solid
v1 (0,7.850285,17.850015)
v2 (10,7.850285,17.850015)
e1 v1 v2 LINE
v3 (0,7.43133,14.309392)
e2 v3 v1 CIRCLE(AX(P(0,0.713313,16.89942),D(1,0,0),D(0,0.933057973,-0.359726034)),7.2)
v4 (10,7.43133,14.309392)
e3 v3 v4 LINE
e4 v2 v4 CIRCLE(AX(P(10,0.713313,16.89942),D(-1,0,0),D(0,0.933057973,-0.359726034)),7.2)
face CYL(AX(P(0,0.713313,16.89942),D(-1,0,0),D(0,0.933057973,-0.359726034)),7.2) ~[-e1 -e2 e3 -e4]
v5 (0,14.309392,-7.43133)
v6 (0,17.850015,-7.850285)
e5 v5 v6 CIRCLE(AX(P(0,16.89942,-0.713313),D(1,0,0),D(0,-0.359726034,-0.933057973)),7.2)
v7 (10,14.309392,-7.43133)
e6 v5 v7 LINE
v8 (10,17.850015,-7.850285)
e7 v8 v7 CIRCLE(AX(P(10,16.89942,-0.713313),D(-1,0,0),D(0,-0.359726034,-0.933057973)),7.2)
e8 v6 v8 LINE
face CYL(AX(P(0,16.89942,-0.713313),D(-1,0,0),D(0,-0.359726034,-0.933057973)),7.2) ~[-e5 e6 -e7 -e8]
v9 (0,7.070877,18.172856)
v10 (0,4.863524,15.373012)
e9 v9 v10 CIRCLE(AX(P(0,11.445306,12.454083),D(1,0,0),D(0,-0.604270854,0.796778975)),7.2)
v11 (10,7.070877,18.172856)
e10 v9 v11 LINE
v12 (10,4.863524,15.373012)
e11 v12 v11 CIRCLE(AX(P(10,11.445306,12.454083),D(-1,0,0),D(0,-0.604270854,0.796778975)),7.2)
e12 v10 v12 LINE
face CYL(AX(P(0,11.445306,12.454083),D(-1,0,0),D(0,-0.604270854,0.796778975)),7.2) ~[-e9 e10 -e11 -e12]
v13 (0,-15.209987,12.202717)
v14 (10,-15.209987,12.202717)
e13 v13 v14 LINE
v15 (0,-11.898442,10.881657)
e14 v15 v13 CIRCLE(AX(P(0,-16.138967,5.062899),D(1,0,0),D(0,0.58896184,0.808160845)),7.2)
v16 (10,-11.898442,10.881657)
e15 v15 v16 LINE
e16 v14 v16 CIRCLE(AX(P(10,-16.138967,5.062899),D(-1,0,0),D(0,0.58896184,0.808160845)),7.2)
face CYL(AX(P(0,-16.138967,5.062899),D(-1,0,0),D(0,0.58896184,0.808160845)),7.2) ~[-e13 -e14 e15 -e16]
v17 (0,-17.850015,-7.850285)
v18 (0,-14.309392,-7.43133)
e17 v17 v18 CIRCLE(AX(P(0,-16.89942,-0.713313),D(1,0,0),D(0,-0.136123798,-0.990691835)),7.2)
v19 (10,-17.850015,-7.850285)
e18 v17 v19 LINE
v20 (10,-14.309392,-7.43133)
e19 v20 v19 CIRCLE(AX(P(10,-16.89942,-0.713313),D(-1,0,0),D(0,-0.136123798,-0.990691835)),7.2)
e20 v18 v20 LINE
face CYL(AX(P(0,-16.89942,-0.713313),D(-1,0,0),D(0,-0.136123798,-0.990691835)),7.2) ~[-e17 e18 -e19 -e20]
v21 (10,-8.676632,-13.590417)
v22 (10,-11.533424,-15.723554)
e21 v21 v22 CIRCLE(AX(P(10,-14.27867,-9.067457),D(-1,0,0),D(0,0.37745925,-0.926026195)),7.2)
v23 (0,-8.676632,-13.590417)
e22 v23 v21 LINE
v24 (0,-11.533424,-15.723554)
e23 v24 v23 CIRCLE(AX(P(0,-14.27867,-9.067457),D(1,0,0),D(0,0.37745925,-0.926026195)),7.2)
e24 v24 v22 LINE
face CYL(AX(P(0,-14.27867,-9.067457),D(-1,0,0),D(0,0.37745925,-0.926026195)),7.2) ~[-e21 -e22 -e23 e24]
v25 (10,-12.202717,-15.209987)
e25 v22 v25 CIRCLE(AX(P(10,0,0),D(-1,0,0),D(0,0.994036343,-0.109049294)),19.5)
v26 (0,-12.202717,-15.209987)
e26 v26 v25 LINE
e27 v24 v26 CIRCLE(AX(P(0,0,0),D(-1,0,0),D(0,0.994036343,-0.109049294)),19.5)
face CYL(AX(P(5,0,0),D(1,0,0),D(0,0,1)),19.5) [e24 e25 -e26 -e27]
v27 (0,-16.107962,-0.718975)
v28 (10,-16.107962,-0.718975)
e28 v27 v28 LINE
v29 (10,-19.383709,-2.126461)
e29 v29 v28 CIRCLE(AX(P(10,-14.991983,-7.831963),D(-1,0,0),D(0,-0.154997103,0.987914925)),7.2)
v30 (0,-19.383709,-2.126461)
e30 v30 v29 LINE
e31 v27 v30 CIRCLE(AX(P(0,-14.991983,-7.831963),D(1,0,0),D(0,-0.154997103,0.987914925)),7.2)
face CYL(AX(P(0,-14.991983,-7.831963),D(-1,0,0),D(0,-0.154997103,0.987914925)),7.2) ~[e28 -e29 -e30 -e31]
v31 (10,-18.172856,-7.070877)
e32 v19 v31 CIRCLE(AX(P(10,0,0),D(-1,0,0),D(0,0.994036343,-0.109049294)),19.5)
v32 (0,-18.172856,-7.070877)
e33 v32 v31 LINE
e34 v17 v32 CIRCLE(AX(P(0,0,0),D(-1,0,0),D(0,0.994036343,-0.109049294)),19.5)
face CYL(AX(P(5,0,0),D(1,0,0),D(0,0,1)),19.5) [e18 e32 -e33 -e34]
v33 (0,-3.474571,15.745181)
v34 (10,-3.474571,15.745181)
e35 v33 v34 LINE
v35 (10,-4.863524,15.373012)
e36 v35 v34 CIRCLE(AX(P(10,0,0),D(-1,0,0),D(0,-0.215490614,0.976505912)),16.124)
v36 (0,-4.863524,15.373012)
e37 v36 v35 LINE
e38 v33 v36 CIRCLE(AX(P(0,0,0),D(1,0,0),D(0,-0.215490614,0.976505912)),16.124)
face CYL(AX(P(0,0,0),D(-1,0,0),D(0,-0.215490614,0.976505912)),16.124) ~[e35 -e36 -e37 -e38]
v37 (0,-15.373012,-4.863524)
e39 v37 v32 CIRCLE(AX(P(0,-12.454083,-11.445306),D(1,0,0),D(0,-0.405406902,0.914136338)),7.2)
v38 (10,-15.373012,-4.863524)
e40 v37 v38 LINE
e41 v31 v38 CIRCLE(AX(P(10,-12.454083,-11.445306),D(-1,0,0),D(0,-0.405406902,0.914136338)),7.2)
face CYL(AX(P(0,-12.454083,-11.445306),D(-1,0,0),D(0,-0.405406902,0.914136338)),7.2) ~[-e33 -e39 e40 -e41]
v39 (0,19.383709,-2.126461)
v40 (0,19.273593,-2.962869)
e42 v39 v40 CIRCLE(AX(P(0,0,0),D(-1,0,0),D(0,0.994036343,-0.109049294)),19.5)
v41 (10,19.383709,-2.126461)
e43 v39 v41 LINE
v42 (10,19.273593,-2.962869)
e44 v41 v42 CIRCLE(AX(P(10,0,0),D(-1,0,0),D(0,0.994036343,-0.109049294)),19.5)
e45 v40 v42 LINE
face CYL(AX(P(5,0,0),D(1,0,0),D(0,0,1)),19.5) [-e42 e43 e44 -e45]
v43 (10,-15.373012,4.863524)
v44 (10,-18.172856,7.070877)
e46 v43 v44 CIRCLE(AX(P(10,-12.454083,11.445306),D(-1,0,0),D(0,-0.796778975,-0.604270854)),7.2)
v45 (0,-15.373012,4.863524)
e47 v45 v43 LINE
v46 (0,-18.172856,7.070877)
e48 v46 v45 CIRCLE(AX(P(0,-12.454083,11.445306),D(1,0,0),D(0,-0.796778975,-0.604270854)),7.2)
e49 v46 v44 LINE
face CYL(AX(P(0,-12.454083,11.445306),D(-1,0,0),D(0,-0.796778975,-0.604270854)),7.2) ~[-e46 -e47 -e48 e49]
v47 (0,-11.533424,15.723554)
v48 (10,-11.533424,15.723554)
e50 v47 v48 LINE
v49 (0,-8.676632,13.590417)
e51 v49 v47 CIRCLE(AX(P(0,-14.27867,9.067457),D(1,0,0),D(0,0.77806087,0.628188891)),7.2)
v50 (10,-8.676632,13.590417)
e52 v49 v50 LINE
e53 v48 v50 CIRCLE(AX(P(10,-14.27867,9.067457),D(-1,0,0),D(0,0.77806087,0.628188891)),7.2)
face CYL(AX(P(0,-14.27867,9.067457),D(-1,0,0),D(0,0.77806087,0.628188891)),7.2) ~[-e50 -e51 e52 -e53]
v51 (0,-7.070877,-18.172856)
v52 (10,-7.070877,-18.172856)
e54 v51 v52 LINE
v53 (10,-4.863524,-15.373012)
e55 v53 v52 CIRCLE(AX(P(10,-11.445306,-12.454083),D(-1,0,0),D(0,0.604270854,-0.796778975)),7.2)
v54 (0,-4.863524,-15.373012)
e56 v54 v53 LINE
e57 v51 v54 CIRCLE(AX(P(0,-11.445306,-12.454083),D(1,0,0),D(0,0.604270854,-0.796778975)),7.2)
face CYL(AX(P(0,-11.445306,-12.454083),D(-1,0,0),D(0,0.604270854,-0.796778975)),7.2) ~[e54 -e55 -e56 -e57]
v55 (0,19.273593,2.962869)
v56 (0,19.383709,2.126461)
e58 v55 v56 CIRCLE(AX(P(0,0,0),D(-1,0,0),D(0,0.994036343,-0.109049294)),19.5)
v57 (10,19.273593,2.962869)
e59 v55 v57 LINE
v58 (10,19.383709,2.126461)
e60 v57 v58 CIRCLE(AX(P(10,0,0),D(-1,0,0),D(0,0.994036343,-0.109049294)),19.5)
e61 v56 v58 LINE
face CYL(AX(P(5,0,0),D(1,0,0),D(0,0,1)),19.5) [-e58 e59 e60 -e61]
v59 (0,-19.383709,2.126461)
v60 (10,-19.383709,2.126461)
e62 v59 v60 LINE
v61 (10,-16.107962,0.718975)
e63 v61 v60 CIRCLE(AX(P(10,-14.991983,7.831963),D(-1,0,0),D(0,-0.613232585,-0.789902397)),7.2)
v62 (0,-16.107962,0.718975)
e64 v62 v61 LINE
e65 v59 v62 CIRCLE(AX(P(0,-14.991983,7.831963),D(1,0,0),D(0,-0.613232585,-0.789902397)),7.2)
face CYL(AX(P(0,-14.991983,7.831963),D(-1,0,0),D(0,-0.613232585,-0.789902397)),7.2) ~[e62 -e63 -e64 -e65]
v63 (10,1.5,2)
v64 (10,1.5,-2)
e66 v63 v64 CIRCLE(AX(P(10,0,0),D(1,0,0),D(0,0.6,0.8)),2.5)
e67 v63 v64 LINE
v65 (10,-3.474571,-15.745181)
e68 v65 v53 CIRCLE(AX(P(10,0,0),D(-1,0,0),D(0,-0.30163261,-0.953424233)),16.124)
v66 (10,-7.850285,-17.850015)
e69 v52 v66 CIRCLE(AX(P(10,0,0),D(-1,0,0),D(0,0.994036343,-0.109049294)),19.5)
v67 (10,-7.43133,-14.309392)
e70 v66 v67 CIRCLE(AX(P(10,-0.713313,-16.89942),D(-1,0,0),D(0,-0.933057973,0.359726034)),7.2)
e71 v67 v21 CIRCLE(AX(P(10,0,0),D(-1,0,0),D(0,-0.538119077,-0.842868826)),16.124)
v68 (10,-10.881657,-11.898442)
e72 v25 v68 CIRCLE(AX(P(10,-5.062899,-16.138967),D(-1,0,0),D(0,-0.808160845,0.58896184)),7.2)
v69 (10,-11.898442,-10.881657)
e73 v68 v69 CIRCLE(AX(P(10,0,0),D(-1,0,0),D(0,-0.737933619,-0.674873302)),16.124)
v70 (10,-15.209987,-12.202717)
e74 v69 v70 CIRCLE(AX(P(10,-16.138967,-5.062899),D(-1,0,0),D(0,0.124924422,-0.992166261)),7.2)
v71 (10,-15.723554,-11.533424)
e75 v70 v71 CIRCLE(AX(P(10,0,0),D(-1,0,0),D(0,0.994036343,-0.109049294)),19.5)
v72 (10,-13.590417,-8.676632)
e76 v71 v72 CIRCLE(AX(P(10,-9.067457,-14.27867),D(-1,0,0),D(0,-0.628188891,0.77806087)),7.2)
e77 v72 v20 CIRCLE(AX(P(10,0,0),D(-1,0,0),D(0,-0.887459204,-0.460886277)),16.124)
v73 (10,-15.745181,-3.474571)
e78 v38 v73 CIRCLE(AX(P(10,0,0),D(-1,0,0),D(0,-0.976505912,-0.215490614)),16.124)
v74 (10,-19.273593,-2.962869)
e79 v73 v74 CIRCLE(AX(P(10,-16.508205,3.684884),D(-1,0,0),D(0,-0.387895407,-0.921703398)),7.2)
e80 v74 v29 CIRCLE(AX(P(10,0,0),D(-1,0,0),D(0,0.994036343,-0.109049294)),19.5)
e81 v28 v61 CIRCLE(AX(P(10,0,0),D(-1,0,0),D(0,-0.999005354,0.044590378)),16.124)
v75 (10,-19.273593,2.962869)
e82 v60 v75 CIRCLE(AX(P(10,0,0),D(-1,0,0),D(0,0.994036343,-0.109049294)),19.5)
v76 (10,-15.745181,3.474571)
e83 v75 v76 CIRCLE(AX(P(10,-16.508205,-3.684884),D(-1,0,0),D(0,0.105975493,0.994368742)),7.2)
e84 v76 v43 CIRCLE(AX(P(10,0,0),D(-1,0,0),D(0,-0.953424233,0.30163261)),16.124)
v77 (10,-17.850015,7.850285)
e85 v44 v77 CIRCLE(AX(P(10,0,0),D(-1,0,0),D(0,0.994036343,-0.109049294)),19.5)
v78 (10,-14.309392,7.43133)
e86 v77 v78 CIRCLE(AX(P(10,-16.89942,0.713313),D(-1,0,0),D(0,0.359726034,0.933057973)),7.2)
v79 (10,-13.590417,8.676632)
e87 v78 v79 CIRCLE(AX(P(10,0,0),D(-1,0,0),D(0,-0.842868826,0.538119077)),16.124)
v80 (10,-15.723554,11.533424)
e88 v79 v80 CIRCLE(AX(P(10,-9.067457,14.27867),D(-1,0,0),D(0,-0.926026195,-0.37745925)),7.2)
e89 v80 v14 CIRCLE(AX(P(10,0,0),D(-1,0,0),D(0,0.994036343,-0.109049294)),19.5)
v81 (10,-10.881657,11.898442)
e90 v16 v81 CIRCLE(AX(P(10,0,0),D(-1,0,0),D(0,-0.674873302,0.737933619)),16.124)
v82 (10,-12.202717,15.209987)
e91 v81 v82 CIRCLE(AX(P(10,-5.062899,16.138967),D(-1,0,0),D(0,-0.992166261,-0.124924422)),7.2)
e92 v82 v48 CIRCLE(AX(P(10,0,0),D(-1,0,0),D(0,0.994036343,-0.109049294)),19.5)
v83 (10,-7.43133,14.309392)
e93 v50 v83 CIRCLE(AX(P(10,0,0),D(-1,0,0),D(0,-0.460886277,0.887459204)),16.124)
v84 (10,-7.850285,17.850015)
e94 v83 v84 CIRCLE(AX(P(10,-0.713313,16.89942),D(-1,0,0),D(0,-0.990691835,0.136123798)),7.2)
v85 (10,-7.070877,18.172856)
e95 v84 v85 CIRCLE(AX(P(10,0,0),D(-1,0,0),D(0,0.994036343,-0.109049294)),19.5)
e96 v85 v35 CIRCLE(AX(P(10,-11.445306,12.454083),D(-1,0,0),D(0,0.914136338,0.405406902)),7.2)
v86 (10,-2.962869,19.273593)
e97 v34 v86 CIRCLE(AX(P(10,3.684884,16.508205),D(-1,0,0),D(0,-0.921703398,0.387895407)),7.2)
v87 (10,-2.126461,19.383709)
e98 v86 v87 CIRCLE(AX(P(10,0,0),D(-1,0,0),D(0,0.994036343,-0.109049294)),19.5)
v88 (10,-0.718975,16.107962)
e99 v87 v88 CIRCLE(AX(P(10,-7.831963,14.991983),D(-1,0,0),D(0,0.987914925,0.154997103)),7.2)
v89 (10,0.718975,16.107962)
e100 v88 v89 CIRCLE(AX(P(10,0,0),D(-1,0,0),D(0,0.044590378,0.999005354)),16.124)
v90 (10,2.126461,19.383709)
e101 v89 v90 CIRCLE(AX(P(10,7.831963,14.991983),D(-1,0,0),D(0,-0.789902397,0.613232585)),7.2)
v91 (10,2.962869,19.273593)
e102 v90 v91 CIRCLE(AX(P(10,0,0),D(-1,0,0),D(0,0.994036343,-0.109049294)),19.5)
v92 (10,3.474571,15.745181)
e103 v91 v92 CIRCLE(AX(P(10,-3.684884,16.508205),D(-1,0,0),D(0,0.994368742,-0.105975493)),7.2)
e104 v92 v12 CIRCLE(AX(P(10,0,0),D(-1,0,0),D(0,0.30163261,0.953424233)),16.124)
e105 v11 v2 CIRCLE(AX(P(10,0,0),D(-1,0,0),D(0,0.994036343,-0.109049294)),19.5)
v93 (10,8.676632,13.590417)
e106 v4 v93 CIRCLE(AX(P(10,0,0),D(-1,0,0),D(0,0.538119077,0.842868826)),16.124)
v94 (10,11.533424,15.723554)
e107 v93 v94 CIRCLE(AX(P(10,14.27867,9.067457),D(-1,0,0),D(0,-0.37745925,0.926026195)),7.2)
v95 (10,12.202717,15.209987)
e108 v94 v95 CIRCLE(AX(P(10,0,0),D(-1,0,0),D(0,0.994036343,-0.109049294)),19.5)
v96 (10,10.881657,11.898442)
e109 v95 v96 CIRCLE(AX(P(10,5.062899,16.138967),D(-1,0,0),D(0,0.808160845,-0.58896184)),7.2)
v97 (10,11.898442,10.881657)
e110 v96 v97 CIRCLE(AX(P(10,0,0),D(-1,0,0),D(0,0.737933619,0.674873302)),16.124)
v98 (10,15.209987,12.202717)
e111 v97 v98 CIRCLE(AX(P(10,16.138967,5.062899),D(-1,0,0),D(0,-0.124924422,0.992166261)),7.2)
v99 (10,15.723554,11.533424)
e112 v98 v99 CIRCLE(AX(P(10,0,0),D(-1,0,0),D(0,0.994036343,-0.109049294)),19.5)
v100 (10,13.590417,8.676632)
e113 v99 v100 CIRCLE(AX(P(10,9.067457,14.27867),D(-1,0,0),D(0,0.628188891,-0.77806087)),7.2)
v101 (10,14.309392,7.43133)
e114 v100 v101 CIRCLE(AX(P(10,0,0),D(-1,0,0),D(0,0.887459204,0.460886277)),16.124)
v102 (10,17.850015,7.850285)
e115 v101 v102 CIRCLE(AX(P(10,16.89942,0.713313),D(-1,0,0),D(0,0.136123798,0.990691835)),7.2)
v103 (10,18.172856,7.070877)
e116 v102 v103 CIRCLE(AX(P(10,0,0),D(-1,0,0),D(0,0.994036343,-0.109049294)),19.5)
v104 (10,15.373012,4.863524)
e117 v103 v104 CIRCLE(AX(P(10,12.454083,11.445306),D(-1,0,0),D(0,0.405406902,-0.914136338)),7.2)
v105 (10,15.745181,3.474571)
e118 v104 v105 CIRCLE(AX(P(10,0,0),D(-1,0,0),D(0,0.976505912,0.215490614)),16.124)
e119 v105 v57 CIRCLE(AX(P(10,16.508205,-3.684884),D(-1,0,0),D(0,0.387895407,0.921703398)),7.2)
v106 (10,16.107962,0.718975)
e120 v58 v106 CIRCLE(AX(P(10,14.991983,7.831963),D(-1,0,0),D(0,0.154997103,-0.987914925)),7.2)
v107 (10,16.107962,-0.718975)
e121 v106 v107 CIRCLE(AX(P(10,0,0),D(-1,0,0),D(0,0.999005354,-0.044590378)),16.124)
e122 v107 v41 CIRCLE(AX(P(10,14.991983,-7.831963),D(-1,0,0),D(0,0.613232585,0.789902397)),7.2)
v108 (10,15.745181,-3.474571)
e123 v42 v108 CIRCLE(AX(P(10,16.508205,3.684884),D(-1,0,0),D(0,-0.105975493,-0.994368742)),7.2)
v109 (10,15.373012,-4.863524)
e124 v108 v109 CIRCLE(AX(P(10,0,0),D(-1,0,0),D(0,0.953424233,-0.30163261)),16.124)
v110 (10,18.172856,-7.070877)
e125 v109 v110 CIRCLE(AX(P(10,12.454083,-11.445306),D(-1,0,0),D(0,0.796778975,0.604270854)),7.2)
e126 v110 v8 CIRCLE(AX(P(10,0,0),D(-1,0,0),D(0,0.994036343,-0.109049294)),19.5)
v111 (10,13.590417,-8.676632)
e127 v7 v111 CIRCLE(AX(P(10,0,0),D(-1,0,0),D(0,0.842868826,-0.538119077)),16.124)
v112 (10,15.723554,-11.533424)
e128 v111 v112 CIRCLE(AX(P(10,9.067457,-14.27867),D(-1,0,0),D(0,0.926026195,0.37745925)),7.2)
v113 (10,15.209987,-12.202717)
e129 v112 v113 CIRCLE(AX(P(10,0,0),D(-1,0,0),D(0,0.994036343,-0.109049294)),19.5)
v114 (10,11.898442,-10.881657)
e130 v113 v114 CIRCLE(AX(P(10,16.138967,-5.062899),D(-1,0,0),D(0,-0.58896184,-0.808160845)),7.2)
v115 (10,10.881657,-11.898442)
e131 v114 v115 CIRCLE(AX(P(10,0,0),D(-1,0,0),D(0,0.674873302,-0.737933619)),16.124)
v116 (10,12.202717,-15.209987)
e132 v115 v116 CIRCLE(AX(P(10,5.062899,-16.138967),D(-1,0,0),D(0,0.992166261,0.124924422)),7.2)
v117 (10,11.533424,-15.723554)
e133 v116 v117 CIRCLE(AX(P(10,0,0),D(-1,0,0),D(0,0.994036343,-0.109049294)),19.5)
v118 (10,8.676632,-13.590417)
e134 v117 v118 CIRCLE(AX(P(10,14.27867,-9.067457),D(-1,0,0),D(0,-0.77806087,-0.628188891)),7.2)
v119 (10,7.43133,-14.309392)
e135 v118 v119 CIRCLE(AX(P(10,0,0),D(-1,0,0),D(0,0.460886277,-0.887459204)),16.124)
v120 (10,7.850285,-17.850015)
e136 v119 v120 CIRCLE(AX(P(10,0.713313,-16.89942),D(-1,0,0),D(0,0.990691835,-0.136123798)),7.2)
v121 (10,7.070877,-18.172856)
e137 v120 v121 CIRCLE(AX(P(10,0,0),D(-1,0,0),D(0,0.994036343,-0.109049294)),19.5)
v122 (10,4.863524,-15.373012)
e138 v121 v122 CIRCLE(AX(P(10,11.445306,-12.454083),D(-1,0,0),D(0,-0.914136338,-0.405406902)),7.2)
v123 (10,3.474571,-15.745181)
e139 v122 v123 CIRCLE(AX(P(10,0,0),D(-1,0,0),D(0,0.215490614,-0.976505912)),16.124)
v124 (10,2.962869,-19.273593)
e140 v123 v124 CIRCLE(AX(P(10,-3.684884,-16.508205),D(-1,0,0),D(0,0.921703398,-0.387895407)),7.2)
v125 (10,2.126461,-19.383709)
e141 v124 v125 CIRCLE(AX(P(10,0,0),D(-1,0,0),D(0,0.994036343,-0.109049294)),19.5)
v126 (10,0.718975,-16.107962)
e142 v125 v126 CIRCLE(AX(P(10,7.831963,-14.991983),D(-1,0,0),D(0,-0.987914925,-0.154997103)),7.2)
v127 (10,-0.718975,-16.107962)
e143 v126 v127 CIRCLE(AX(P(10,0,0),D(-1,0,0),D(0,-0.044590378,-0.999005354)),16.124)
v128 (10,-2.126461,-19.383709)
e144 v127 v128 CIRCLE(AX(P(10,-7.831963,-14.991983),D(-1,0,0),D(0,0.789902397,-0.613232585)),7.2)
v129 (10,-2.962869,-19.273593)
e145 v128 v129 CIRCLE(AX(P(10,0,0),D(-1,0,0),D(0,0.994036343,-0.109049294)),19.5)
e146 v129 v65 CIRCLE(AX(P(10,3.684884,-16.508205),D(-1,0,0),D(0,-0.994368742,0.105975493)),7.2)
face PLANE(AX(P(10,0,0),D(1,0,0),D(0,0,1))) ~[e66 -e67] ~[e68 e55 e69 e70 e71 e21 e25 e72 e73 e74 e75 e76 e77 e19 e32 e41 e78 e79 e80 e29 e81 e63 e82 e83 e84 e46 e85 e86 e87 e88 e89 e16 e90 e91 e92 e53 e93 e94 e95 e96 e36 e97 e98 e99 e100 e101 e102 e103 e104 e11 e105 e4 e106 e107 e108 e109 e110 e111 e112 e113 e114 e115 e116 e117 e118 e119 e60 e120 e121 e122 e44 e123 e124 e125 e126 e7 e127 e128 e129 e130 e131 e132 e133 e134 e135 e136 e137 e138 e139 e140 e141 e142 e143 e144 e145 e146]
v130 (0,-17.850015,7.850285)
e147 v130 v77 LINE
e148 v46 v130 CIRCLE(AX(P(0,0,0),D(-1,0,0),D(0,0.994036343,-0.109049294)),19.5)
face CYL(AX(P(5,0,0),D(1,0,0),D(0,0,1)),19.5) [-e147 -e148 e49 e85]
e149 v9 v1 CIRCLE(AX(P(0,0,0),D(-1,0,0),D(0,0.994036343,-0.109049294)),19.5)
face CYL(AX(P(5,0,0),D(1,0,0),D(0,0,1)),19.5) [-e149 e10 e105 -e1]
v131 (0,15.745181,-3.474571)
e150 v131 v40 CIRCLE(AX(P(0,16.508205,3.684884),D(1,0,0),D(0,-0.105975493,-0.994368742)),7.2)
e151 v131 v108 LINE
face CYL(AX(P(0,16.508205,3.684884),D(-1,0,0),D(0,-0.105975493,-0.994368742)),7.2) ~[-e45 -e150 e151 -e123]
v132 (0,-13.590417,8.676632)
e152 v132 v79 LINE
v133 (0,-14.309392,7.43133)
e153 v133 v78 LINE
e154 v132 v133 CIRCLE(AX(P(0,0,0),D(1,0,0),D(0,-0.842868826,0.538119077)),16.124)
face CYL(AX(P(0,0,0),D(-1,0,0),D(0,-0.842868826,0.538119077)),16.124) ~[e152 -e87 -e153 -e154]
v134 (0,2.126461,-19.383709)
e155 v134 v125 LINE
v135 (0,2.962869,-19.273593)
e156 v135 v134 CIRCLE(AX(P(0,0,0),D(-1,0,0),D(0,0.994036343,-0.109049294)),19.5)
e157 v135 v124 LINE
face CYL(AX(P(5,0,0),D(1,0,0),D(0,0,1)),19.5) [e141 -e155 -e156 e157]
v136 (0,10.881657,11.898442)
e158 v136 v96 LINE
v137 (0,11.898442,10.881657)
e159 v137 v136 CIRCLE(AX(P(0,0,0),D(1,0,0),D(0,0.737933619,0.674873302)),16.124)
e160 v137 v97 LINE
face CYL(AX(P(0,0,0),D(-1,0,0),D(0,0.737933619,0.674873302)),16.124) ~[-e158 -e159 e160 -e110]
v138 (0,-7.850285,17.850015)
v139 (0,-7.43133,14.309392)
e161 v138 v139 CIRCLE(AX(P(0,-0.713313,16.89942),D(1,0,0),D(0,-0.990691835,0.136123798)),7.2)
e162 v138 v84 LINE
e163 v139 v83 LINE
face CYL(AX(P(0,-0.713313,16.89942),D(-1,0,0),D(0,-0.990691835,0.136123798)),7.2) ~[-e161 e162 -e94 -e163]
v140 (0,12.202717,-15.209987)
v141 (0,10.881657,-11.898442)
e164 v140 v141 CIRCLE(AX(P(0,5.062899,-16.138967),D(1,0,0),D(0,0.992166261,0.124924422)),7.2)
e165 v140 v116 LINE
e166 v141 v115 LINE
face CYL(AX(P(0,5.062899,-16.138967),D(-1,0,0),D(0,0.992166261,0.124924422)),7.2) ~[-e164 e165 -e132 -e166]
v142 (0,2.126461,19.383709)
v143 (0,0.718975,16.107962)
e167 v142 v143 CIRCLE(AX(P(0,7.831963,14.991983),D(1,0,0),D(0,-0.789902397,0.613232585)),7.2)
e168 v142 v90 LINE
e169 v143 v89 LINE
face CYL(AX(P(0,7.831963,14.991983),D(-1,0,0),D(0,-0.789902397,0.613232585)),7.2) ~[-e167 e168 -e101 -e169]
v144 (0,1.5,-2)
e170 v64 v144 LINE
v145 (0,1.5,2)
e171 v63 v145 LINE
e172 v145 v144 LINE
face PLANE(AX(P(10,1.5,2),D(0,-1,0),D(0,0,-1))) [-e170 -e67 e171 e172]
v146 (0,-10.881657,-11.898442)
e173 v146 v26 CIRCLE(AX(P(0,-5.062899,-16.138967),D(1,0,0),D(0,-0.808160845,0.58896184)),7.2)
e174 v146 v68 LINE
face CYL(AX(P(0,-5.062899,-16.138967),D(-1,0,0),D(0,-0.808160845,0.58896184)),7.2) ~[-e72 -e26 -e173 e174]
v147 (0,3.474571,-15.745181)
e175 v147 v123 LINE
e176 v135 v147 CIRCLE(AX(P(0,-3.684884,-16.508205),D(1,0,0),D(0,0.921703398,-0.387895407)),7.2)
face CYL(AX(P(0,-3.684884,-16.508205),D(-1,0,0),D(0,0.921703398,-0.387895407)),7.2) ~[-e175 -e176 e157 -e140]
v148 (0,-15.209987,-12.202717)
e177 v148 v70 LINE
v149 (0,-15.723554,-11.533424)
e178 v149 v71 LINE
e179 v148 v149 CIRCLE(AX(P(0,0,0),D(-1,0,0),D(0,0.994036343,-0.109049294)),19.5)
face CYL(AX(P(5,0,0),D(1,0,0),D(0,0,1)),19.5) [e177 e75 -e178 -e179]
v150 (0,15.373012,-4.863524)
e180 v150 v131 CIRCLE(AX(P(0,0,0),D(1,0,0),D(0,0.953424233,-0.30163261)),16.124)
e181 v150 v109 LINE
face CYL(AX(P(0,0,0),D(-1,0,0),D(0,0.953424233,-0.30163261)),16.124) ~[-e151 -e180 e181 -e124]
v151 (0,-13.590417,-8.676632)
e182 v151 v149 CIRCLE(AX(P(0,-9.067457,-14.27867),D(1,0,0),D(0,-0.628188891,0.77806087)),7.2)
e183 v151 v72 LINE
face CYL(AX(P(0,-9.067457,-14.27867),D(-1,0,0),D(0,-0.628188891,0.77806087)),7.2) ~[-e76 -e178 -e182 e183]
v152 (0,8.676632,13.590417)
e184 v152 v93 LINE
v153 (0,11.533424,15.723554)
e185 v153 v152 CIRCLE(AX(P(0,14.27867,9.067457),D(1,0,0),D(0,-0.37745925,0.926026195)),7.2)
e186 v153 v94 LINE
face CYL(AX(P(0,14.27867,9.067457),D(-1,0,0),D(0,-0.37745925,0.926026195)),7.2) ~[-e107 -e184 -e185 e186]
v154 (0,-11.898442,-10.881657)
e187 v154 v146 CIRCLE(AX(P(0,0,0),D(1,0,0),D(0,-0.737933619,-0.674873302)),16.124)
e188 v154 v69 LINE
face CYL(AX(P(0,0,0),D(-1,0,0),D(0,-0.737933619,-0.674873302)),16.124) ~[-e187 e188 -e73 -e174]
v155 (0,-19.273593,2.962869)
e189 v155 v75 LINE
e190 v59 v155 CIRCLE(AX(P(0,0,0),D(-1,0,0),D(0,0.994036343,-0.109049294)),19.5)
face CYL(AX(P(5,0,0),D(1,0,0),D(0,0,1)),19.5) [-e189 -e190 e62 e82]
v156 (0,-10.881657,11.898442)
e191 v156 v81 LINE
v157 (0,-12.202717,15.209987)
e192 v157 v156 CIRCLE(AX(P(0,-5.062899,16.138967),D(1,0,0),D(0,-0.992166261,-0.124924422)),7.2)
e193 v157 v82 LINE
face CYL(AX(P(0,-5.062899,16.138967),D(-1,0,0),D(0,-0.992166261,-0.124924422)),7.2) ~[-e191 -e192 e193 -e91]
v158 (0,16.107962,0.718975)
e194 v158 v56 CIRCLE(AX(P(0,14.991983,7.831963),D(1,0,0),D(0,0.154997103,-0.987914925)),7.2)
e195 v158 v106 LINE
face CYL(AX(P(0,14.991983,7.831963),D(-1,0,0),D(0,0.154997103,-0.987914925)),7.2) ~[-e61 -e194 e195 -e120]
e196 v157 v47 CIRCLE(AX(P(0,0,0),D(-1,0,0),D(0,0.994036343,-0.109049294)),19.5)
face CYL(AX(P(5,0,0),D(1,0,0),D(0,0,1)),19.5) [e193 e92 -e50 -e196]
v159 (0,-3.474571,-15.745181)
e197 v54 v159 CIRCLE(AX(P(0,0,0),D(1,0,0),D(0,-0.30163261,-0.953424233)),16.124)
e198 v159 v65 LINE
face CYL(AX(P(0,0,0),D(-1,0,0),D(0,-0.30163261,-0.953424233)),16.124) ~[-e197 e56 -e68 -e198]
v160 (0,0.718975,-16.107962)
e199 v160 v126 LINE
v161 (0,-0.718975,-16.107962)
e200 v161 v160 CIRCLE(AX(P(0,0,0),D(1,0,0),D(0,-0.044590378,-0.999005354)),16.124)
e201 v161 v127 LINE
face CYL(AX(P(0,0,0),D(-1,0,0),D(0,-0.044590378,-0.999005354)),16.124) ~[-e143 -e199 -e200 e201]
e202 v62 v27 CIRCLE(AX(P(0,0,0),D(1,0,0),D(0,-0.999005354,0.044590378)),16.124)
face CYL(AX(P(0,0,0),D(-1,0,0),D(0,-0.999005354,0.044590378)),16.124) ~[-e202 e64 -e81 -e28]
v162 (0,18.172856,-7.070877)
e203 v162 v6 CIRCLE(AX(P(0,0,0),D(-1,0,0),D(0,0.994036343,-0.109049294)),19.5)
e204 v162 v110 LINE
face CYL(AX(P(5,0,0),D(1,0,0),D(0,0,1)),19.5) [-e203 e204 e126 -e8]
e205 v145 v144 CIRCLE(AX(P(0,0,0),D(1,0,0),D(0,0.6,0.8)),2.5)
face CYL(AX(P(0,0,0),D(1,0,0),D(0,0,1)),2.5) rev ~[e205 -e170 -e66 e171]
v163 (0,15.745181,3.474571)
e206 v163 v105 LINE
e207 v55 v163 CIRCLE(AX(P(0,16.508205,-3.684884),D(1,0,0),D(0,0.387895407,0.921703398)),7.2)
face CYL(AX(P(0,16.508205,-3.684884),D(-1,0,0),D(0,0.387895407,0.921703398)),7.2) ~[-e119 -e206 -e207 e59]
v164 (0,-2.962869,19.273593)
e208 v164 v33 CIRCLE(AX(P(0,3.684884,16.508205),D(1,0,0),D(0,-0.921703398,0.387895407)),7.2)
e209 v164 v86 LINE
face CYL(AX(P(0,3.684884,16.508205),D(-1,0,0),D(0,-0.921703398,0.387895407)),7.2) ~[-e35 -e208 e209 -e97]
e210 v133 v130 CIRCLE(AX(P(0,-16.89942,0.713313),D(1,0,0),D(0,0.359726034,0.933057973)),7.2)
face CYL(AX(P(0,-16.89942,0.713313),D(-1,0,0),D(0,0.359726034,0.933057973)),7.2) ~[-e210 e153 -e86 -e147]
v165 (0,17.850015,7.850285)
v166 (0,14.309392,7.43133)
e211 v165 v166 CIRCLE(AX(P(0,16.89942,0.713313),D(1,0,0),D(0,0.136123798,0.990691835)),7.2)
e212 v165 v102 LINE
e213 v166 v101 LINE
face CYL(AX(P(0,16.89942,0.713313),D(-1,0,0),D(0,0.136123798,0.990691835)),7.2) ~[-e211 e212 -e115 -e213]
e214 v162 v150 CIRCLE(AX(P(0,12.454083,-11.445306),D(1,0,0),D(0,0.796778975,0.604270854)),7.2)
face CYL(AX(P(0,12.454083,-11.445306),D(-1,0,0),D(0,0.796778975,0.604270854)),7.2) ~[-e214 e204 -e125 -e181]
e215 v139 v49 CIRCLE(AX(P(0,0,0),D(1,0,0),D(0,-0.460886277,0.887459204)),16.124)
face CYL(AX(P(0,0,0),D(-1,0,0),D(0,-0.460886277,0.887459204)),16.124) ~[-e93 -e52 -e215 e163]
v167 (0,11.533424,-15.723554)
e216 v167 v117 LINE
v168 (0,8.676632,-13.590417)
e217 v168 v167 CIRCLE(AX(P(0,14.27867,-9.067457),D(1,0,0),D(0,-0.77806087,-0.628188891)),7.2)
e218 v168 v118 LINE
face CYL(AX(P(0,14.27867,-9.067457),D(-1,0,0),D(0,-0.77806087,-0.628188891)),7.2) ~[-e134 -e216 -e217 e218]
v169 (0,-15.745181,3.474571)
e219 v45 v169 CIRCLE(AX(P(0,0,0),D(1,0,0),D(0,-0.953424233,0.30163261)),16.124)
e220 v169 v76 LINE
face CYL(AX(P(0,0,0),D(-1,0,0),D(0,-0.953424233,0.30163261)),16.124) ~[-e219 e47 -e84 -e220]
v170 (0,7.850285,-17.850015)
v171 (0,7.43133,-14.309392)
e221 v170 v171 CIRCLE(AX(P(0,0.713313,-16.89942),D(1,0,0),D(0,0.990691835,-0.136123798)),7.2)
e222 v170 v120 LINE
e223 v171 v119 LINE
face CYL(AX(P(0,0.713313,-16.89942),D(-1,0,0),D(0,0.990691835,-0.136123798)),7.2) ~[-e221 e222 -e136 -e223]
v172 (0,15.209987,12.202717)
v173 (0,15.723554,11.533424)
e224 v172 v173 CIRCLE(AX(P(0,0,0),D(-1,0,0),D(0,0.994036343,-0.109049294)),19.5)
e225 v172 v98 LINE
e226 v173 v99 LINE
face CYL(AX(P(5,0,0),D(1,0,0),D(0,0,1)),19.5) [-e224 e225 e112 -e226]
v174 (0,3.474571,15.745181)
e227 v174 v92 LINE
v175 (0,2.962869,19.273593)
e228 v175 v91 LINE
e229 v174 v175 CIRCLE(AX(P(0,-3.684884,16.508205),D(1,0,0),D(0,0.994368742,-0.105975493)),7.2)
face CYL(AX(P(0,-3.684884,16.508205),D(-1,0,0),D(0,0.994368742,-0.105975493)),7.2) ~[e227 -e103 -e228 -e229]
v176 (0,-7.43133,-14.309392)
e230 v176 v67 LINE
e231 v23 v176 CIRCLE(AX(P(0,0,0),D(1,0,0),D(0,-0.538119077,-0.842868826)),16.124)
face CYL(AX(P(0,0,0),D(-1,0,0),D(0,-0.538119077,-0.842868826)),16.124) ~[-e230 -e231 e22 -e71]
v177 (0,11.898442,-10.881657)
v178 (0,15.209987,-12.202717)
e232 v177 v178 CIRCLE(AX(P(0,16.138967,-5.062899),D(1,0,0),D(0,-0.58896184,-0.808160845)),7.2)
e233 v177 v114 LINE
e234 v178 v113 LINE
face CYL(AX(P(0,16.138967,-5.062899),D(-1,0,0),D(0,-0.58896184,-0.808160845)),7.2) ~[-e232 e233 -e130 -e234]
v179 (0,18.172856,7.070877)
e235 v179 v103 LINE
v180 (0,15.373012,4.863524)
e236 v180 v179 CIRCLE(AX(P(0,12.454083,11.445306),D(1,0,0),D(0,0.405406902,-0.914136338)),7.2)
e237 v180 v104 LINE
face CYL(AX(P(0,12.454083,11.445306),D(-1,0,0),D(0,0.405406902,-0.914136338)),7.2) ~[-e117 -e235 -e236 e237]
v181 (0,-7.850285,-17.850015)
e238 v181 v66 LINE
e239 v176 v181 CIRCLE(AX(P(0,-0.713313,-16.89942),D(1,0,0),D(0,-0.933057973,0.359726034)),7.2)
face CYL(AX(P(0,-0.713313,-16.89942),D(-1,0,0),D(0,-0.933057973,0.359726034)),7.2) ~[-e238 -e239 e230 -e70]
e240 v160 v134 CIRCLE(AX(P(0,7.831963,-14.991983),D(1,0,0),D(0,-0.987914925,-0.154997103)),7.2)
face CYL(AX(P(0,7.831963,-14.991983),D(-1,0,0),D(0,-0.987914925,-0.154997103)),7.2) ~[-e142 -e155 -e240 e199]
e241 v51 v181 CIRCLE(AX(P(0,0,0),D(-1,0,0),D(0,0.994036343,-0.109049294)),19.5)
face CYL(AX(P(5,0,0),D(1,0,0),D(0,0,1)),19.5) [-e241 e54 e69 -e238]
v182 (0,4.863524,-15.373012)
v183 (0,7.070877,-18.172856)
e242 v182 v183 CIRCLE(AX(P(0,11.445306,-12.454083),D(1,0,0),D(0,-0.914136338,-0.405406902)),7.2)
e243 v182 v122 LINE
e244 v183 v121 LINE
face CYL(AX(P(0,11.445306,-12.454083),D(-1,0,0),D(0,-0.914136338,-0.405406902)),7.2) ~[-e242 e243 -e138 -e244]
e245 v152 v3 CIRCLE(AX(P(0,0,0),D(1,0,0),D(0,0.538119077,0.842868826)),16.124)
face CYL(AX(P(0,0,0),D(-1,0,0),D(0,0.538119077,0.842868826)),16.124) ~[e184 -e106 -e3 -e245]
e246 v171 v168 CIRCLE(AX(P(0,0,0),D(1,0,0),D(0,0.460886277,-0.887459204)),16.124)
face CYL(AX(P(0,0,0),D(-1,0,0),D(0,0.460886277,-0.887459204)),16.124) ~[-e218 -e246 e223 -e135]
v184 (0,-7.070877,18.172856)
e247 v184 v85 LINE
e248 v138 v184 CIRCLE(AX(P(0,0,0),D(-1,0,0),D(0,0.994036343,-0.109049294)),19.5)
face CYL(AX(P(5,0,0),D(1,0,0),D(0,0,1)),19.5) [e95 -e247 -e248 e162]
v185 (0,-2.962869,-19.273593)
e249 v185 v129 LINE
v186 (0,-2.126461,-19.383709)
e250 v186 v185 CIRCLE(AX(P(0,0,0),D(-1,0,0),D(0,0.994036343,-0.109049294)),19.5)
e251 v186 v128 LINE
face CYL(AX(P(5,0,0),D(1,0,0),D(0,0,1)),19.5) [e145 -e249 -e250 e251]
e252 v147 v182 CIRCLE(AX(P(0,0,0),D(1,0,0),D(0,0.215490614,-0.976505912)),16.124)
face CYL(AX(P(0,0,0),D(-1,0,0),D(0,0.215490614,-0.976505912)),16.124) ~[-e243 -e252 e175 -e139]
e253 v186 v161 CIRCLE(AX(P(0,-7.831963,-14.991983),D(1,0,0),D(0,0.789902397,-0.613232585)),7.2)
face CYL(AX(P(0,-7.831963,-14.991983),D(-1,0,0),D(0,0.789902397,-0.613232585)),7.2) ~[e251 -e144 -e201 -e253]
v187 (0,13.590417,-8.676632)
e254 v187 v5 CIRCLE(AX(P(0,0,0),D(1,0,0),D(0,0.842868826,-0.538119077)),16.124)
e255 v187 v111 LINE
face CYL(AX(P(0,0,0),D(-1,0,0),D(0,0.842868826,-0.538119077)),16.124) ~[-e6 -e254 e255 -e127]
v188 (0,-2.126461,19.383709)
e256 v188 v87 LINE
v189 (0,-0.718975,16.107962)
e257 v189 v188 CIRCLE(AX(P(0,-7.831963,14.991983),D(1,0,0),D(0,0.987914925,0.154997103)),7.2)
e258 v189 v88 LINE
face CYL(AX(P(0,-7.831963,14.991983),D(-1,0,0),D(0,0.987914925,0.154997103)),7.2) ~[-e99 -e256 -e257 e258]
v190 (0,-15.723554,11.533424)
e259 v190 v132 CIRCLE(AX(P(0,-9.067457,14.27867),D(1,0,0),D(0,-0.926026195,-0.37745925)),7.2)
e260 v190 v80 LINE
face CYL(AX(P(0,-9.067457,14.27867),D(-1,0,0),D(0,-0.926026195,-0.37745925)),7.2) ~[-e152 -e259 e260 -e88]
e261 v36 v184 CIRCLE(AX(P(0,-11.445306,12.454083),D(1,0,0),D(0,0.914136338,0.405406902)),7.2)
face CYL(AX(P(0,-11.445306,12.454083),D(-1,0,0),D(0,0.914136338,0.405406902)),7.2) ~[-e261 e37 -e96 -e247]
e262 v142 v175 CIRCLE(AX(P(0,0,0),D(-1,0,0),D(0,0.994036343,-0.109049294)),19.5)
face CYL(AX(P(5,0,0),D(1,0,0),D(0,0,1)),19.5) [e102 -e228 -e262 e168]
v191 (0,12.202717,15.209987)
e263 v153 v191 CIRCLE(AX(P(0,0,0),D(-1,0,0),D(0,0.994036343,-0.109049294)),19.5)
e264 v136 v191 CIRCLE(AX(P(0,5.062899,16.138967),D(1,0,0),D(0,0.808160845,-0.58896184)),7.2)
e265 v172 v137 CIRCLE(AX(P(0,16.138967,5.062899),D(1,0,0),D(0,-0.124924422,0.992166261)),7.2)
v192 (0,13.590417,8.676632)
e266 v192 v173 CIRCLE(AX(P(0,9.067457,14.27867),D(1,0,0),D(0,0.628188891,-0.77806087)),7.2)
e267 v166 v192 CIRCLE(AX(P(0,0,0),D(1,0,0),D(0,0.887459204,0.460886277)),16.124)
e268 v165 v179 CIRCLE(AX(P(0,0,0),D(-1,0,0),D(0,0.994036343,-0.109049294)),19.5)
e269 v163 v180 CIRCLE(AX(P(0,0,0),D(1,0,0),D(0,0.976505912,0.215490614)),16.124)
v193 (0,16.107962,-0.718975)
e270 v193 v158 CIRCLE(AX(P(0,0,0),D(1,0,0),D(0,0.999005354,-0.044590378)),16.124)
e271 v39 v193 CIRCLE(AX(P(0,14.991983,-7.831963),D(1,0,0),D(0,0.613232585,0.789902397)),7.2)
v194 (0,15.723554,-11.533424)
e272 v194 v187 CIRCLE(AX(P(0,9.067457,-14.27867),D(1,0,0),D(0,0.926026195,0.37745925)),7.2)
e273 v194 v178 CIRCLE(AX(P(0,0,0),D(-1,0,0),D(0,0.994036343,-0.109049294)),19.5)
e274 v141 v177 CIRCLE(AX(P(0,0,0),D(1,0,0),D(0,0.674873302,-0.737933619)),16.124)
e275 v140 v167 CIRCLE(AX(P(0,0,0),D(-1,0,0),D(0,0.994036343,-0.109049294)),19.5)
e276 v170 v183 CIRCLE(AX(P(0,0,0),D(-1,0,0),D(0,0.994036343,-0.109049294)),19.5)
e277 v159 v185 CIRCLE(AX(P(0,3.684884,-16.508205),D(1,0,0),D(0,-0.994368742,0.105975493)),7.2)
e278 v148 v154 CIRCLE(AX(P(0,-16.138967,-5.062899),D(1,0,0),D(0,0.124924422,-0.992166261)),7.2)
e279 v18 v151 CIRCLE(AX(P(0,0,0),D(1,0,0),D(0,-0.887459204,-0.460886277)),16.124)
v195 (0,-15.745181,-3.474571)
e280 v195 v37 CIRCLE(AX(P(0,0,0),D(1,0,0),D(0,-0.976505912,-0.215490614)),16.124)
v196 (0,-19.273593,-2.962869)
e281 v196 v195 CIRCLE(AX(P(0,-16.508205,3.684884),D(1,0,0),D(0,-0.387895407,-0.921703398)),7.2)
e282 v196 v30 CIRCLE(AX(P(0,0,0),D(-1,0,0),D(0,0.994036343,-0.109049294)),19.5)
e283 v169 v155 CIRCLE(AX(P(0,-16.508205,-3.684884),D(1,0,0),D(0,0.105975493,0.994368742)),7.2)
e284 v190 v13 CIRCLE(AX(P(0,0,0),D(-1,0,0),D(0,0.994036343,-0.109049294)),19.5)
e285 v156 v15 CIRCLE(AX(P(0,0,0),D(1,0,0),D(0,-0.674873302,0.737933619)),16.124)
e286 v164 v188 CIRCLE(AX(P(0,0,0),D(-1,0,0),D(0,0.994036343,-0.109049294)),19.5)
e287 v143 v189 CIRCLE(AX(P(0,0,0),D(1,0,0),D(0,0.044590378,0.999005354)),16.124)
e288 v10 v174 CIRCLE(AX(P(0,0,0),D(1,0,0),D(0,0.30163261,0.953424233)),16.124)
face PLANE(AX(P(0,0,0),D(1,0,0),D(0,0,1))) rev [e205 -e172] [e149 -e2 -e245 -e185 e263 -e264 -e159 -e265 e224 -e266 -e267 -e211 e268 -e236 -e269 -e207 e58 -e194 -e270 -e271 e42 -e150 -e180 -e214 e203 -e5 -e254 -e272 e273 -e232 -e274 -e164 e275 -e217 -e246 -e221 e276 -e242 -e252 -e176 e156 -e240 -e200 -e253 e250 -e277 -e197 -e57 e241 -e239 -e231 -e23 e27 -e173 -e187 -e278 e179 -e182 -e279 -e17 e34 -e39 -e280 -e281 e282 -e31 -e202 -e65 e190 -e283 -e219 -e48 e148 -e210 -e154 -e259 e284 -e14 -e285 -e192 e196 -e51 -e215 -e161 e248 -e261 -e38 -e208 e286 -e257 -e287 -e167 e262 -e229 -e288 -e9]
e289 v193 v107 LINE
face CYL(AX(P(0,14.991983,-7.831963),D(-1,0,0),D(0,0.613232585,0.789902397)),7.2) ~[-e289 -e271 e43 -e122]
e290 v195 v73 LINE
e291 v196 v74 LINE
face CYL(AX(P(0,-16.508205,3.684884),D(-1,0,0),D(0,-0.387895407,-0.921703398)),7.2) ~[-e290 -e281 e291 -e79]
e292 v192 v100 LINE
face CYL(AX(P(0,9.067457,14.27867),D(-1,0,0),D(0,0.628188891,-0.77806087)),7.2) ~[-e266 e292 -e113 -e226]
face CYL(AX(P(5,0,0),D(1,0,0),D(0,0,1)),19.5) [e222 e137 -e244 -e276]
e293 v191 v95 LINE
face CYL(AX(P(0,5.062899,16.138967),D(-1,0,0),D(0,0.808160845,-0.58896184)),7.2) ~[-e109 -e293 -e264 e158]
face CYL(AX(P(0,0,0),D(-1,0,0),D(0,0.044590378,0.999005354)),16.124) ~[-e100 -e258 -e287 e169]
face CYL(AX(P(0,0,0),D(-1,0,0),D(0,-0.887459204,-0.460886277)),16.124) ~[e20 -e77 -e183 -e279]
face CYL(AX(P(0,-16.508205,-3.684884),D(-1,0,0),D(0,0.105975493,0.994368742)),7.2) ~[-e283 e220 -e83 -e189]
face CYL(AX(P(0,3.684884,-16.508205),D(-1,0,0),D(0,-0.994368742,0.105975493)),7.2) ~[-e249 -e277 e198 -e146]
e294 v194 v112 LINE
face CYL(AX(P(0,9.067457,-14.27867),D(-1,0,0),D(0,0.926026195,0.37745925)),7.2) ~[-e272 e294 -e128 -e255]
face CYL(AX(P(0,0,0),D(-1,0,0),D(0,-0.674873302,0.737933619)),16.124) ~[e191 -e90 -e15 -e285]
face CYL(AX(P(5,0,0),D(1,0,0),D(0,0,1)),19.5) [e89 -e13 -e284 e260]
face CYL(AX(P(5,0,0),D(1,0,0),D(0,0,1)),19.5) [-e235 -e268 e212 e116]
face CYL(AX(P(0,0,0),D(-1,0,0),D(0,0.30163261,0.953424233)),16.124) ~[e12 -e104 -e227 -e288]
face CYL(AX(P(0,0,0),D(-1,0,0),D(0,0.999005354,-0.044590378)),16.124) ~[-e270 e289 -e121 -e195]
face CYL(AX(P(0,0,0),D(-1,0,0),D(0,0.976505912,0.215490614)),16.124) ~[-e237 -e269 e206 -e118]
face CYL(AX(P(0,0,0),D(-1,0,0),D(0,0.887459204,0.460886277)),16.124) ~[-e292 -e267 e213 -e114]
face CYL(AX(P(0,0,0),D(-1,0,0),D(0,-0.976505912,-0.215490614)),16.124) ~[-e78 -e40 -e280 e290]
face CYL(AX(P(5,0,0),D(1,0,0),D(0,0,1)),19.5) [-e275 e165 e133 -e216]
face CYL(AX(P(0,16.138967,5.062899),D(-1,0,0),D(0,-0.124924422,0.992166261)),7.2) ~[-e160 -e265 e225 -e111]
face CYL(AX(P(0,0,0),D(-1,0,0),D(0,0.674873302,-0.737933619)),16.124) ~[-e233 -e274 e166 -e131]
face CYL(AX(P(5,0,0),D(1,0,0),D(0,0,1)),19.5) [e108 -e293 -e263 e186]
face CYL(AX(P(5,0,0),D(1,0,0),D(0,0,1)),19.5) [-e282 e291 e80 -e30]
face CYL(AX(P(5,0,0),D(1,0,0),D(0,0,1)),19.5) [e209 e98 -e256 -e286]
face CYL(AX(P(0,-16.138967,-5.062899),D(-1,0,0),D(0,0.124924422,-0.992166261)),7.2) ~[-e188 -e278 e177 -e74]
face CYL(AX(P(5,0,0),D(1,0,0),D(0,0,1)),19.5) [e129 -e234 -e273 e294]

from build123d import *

# Parameters (mm, degrees)
BASPROSKE_W         = 10
BASPROSKE_H         = 19.5
TOOTHCUT_DEPTH      = 30.334280288
TEETHCUTS_COUNT     = 24
TEETHCUTS_ANGLE     = 345
BORSKE_R            = 2.5
BORE_DEPTH          = 50.0000508
BOSS_EXTRUDE1_DEPTH = 10


with BuildPart() as part:
    # BasProSke → Base-Revolve (revolve)
    with BuildSketch(Plane(origin=(0, 0, 0), x_dir=(1, 0, 0), z_dir=(0, 1, 0)), mode=Mode.PRIVATE) as base_revolve_sk:
        with Locations((5, 9.75)):
            Rectangle(BASPROSKE_W, BASPROSKE_H)
    revolve(base_revolve_sk.sketch.rotate(Axis((-10, 0, 0), (1, 0, 0)), 180), axis=Axis((-10, 0, 0), (1, 0, 0)))

    # TooCutSke → ToothCut (cut, through all)
    with BuildSketch(Plane(origin=(0, 0, 0), x_dir=(0, 0, -1), z_dir=(1, 0, 0))):
        with BuildLine():
            ThreePointArc((0.718975251, 16.107962335), (0, 16.124), (-0.718975251, 16.107962335))
            ThreePointArc((-0.718975251, 16.107962335), (-1.222639001, 17.848001425), (-2.144665446, 19.407257799))
            ThreePointArc((-2.144665446, 19.407257799), (0, 19.5254), (2.144665446, 19.407257799))
            ThreePointArc((2.144665446, 19.407257799), (1.222639001, 17.848001425), (0.718975251, 16.107962335))
        make_face()
    toothcut = extrude(amount=TOOTHCUT_DEPTH, mode=Mode.SUBTRACT)

    # TeethCuts: ToothCut ×24 about axis
    teethcuts_axis = Axis((-10, 0, 0), (1, 0, 0))
    for i in range(1, TEETHCUTS_COUNT):
        add(toothcut.rotate(teethcuts_axis, i * TEETHCUTS_ANGLE / (TEETHCUTS_COUNT - 1)), mode=Mode.SUBTRACT)

    # BorSke → Bore (cut, symmetric)
    with BuildSketch(Plane(origin=(0, 0, 0), x_dir=(0, 0, -1), z_dir=(1, 0, 0))):
        with Locations(Location((0, 0, 0), (0, 0, 180))):
            Circle(BORSKE_R)
    extrude(amount=BORE_DEPTH, both=True, mode=Mode.SUBTRACT)

    # Sketch1 → Boss-Extrude1 (add)
    with BuildSketch(Plane(origin=(10, 0, 0), x_dir=(0, 0, -1), z_dir=(1, 0, 0))):
        with BuildLine():
            Line((-2, 1.5), (2, 1.5))
            ThreePointArc((2, 1.5), (0, 2.5), (-2, 1.5))
        make_face()
    extrude(amount=-BOSS_EXTRUDE1_DEPTH)


solid = part.part
